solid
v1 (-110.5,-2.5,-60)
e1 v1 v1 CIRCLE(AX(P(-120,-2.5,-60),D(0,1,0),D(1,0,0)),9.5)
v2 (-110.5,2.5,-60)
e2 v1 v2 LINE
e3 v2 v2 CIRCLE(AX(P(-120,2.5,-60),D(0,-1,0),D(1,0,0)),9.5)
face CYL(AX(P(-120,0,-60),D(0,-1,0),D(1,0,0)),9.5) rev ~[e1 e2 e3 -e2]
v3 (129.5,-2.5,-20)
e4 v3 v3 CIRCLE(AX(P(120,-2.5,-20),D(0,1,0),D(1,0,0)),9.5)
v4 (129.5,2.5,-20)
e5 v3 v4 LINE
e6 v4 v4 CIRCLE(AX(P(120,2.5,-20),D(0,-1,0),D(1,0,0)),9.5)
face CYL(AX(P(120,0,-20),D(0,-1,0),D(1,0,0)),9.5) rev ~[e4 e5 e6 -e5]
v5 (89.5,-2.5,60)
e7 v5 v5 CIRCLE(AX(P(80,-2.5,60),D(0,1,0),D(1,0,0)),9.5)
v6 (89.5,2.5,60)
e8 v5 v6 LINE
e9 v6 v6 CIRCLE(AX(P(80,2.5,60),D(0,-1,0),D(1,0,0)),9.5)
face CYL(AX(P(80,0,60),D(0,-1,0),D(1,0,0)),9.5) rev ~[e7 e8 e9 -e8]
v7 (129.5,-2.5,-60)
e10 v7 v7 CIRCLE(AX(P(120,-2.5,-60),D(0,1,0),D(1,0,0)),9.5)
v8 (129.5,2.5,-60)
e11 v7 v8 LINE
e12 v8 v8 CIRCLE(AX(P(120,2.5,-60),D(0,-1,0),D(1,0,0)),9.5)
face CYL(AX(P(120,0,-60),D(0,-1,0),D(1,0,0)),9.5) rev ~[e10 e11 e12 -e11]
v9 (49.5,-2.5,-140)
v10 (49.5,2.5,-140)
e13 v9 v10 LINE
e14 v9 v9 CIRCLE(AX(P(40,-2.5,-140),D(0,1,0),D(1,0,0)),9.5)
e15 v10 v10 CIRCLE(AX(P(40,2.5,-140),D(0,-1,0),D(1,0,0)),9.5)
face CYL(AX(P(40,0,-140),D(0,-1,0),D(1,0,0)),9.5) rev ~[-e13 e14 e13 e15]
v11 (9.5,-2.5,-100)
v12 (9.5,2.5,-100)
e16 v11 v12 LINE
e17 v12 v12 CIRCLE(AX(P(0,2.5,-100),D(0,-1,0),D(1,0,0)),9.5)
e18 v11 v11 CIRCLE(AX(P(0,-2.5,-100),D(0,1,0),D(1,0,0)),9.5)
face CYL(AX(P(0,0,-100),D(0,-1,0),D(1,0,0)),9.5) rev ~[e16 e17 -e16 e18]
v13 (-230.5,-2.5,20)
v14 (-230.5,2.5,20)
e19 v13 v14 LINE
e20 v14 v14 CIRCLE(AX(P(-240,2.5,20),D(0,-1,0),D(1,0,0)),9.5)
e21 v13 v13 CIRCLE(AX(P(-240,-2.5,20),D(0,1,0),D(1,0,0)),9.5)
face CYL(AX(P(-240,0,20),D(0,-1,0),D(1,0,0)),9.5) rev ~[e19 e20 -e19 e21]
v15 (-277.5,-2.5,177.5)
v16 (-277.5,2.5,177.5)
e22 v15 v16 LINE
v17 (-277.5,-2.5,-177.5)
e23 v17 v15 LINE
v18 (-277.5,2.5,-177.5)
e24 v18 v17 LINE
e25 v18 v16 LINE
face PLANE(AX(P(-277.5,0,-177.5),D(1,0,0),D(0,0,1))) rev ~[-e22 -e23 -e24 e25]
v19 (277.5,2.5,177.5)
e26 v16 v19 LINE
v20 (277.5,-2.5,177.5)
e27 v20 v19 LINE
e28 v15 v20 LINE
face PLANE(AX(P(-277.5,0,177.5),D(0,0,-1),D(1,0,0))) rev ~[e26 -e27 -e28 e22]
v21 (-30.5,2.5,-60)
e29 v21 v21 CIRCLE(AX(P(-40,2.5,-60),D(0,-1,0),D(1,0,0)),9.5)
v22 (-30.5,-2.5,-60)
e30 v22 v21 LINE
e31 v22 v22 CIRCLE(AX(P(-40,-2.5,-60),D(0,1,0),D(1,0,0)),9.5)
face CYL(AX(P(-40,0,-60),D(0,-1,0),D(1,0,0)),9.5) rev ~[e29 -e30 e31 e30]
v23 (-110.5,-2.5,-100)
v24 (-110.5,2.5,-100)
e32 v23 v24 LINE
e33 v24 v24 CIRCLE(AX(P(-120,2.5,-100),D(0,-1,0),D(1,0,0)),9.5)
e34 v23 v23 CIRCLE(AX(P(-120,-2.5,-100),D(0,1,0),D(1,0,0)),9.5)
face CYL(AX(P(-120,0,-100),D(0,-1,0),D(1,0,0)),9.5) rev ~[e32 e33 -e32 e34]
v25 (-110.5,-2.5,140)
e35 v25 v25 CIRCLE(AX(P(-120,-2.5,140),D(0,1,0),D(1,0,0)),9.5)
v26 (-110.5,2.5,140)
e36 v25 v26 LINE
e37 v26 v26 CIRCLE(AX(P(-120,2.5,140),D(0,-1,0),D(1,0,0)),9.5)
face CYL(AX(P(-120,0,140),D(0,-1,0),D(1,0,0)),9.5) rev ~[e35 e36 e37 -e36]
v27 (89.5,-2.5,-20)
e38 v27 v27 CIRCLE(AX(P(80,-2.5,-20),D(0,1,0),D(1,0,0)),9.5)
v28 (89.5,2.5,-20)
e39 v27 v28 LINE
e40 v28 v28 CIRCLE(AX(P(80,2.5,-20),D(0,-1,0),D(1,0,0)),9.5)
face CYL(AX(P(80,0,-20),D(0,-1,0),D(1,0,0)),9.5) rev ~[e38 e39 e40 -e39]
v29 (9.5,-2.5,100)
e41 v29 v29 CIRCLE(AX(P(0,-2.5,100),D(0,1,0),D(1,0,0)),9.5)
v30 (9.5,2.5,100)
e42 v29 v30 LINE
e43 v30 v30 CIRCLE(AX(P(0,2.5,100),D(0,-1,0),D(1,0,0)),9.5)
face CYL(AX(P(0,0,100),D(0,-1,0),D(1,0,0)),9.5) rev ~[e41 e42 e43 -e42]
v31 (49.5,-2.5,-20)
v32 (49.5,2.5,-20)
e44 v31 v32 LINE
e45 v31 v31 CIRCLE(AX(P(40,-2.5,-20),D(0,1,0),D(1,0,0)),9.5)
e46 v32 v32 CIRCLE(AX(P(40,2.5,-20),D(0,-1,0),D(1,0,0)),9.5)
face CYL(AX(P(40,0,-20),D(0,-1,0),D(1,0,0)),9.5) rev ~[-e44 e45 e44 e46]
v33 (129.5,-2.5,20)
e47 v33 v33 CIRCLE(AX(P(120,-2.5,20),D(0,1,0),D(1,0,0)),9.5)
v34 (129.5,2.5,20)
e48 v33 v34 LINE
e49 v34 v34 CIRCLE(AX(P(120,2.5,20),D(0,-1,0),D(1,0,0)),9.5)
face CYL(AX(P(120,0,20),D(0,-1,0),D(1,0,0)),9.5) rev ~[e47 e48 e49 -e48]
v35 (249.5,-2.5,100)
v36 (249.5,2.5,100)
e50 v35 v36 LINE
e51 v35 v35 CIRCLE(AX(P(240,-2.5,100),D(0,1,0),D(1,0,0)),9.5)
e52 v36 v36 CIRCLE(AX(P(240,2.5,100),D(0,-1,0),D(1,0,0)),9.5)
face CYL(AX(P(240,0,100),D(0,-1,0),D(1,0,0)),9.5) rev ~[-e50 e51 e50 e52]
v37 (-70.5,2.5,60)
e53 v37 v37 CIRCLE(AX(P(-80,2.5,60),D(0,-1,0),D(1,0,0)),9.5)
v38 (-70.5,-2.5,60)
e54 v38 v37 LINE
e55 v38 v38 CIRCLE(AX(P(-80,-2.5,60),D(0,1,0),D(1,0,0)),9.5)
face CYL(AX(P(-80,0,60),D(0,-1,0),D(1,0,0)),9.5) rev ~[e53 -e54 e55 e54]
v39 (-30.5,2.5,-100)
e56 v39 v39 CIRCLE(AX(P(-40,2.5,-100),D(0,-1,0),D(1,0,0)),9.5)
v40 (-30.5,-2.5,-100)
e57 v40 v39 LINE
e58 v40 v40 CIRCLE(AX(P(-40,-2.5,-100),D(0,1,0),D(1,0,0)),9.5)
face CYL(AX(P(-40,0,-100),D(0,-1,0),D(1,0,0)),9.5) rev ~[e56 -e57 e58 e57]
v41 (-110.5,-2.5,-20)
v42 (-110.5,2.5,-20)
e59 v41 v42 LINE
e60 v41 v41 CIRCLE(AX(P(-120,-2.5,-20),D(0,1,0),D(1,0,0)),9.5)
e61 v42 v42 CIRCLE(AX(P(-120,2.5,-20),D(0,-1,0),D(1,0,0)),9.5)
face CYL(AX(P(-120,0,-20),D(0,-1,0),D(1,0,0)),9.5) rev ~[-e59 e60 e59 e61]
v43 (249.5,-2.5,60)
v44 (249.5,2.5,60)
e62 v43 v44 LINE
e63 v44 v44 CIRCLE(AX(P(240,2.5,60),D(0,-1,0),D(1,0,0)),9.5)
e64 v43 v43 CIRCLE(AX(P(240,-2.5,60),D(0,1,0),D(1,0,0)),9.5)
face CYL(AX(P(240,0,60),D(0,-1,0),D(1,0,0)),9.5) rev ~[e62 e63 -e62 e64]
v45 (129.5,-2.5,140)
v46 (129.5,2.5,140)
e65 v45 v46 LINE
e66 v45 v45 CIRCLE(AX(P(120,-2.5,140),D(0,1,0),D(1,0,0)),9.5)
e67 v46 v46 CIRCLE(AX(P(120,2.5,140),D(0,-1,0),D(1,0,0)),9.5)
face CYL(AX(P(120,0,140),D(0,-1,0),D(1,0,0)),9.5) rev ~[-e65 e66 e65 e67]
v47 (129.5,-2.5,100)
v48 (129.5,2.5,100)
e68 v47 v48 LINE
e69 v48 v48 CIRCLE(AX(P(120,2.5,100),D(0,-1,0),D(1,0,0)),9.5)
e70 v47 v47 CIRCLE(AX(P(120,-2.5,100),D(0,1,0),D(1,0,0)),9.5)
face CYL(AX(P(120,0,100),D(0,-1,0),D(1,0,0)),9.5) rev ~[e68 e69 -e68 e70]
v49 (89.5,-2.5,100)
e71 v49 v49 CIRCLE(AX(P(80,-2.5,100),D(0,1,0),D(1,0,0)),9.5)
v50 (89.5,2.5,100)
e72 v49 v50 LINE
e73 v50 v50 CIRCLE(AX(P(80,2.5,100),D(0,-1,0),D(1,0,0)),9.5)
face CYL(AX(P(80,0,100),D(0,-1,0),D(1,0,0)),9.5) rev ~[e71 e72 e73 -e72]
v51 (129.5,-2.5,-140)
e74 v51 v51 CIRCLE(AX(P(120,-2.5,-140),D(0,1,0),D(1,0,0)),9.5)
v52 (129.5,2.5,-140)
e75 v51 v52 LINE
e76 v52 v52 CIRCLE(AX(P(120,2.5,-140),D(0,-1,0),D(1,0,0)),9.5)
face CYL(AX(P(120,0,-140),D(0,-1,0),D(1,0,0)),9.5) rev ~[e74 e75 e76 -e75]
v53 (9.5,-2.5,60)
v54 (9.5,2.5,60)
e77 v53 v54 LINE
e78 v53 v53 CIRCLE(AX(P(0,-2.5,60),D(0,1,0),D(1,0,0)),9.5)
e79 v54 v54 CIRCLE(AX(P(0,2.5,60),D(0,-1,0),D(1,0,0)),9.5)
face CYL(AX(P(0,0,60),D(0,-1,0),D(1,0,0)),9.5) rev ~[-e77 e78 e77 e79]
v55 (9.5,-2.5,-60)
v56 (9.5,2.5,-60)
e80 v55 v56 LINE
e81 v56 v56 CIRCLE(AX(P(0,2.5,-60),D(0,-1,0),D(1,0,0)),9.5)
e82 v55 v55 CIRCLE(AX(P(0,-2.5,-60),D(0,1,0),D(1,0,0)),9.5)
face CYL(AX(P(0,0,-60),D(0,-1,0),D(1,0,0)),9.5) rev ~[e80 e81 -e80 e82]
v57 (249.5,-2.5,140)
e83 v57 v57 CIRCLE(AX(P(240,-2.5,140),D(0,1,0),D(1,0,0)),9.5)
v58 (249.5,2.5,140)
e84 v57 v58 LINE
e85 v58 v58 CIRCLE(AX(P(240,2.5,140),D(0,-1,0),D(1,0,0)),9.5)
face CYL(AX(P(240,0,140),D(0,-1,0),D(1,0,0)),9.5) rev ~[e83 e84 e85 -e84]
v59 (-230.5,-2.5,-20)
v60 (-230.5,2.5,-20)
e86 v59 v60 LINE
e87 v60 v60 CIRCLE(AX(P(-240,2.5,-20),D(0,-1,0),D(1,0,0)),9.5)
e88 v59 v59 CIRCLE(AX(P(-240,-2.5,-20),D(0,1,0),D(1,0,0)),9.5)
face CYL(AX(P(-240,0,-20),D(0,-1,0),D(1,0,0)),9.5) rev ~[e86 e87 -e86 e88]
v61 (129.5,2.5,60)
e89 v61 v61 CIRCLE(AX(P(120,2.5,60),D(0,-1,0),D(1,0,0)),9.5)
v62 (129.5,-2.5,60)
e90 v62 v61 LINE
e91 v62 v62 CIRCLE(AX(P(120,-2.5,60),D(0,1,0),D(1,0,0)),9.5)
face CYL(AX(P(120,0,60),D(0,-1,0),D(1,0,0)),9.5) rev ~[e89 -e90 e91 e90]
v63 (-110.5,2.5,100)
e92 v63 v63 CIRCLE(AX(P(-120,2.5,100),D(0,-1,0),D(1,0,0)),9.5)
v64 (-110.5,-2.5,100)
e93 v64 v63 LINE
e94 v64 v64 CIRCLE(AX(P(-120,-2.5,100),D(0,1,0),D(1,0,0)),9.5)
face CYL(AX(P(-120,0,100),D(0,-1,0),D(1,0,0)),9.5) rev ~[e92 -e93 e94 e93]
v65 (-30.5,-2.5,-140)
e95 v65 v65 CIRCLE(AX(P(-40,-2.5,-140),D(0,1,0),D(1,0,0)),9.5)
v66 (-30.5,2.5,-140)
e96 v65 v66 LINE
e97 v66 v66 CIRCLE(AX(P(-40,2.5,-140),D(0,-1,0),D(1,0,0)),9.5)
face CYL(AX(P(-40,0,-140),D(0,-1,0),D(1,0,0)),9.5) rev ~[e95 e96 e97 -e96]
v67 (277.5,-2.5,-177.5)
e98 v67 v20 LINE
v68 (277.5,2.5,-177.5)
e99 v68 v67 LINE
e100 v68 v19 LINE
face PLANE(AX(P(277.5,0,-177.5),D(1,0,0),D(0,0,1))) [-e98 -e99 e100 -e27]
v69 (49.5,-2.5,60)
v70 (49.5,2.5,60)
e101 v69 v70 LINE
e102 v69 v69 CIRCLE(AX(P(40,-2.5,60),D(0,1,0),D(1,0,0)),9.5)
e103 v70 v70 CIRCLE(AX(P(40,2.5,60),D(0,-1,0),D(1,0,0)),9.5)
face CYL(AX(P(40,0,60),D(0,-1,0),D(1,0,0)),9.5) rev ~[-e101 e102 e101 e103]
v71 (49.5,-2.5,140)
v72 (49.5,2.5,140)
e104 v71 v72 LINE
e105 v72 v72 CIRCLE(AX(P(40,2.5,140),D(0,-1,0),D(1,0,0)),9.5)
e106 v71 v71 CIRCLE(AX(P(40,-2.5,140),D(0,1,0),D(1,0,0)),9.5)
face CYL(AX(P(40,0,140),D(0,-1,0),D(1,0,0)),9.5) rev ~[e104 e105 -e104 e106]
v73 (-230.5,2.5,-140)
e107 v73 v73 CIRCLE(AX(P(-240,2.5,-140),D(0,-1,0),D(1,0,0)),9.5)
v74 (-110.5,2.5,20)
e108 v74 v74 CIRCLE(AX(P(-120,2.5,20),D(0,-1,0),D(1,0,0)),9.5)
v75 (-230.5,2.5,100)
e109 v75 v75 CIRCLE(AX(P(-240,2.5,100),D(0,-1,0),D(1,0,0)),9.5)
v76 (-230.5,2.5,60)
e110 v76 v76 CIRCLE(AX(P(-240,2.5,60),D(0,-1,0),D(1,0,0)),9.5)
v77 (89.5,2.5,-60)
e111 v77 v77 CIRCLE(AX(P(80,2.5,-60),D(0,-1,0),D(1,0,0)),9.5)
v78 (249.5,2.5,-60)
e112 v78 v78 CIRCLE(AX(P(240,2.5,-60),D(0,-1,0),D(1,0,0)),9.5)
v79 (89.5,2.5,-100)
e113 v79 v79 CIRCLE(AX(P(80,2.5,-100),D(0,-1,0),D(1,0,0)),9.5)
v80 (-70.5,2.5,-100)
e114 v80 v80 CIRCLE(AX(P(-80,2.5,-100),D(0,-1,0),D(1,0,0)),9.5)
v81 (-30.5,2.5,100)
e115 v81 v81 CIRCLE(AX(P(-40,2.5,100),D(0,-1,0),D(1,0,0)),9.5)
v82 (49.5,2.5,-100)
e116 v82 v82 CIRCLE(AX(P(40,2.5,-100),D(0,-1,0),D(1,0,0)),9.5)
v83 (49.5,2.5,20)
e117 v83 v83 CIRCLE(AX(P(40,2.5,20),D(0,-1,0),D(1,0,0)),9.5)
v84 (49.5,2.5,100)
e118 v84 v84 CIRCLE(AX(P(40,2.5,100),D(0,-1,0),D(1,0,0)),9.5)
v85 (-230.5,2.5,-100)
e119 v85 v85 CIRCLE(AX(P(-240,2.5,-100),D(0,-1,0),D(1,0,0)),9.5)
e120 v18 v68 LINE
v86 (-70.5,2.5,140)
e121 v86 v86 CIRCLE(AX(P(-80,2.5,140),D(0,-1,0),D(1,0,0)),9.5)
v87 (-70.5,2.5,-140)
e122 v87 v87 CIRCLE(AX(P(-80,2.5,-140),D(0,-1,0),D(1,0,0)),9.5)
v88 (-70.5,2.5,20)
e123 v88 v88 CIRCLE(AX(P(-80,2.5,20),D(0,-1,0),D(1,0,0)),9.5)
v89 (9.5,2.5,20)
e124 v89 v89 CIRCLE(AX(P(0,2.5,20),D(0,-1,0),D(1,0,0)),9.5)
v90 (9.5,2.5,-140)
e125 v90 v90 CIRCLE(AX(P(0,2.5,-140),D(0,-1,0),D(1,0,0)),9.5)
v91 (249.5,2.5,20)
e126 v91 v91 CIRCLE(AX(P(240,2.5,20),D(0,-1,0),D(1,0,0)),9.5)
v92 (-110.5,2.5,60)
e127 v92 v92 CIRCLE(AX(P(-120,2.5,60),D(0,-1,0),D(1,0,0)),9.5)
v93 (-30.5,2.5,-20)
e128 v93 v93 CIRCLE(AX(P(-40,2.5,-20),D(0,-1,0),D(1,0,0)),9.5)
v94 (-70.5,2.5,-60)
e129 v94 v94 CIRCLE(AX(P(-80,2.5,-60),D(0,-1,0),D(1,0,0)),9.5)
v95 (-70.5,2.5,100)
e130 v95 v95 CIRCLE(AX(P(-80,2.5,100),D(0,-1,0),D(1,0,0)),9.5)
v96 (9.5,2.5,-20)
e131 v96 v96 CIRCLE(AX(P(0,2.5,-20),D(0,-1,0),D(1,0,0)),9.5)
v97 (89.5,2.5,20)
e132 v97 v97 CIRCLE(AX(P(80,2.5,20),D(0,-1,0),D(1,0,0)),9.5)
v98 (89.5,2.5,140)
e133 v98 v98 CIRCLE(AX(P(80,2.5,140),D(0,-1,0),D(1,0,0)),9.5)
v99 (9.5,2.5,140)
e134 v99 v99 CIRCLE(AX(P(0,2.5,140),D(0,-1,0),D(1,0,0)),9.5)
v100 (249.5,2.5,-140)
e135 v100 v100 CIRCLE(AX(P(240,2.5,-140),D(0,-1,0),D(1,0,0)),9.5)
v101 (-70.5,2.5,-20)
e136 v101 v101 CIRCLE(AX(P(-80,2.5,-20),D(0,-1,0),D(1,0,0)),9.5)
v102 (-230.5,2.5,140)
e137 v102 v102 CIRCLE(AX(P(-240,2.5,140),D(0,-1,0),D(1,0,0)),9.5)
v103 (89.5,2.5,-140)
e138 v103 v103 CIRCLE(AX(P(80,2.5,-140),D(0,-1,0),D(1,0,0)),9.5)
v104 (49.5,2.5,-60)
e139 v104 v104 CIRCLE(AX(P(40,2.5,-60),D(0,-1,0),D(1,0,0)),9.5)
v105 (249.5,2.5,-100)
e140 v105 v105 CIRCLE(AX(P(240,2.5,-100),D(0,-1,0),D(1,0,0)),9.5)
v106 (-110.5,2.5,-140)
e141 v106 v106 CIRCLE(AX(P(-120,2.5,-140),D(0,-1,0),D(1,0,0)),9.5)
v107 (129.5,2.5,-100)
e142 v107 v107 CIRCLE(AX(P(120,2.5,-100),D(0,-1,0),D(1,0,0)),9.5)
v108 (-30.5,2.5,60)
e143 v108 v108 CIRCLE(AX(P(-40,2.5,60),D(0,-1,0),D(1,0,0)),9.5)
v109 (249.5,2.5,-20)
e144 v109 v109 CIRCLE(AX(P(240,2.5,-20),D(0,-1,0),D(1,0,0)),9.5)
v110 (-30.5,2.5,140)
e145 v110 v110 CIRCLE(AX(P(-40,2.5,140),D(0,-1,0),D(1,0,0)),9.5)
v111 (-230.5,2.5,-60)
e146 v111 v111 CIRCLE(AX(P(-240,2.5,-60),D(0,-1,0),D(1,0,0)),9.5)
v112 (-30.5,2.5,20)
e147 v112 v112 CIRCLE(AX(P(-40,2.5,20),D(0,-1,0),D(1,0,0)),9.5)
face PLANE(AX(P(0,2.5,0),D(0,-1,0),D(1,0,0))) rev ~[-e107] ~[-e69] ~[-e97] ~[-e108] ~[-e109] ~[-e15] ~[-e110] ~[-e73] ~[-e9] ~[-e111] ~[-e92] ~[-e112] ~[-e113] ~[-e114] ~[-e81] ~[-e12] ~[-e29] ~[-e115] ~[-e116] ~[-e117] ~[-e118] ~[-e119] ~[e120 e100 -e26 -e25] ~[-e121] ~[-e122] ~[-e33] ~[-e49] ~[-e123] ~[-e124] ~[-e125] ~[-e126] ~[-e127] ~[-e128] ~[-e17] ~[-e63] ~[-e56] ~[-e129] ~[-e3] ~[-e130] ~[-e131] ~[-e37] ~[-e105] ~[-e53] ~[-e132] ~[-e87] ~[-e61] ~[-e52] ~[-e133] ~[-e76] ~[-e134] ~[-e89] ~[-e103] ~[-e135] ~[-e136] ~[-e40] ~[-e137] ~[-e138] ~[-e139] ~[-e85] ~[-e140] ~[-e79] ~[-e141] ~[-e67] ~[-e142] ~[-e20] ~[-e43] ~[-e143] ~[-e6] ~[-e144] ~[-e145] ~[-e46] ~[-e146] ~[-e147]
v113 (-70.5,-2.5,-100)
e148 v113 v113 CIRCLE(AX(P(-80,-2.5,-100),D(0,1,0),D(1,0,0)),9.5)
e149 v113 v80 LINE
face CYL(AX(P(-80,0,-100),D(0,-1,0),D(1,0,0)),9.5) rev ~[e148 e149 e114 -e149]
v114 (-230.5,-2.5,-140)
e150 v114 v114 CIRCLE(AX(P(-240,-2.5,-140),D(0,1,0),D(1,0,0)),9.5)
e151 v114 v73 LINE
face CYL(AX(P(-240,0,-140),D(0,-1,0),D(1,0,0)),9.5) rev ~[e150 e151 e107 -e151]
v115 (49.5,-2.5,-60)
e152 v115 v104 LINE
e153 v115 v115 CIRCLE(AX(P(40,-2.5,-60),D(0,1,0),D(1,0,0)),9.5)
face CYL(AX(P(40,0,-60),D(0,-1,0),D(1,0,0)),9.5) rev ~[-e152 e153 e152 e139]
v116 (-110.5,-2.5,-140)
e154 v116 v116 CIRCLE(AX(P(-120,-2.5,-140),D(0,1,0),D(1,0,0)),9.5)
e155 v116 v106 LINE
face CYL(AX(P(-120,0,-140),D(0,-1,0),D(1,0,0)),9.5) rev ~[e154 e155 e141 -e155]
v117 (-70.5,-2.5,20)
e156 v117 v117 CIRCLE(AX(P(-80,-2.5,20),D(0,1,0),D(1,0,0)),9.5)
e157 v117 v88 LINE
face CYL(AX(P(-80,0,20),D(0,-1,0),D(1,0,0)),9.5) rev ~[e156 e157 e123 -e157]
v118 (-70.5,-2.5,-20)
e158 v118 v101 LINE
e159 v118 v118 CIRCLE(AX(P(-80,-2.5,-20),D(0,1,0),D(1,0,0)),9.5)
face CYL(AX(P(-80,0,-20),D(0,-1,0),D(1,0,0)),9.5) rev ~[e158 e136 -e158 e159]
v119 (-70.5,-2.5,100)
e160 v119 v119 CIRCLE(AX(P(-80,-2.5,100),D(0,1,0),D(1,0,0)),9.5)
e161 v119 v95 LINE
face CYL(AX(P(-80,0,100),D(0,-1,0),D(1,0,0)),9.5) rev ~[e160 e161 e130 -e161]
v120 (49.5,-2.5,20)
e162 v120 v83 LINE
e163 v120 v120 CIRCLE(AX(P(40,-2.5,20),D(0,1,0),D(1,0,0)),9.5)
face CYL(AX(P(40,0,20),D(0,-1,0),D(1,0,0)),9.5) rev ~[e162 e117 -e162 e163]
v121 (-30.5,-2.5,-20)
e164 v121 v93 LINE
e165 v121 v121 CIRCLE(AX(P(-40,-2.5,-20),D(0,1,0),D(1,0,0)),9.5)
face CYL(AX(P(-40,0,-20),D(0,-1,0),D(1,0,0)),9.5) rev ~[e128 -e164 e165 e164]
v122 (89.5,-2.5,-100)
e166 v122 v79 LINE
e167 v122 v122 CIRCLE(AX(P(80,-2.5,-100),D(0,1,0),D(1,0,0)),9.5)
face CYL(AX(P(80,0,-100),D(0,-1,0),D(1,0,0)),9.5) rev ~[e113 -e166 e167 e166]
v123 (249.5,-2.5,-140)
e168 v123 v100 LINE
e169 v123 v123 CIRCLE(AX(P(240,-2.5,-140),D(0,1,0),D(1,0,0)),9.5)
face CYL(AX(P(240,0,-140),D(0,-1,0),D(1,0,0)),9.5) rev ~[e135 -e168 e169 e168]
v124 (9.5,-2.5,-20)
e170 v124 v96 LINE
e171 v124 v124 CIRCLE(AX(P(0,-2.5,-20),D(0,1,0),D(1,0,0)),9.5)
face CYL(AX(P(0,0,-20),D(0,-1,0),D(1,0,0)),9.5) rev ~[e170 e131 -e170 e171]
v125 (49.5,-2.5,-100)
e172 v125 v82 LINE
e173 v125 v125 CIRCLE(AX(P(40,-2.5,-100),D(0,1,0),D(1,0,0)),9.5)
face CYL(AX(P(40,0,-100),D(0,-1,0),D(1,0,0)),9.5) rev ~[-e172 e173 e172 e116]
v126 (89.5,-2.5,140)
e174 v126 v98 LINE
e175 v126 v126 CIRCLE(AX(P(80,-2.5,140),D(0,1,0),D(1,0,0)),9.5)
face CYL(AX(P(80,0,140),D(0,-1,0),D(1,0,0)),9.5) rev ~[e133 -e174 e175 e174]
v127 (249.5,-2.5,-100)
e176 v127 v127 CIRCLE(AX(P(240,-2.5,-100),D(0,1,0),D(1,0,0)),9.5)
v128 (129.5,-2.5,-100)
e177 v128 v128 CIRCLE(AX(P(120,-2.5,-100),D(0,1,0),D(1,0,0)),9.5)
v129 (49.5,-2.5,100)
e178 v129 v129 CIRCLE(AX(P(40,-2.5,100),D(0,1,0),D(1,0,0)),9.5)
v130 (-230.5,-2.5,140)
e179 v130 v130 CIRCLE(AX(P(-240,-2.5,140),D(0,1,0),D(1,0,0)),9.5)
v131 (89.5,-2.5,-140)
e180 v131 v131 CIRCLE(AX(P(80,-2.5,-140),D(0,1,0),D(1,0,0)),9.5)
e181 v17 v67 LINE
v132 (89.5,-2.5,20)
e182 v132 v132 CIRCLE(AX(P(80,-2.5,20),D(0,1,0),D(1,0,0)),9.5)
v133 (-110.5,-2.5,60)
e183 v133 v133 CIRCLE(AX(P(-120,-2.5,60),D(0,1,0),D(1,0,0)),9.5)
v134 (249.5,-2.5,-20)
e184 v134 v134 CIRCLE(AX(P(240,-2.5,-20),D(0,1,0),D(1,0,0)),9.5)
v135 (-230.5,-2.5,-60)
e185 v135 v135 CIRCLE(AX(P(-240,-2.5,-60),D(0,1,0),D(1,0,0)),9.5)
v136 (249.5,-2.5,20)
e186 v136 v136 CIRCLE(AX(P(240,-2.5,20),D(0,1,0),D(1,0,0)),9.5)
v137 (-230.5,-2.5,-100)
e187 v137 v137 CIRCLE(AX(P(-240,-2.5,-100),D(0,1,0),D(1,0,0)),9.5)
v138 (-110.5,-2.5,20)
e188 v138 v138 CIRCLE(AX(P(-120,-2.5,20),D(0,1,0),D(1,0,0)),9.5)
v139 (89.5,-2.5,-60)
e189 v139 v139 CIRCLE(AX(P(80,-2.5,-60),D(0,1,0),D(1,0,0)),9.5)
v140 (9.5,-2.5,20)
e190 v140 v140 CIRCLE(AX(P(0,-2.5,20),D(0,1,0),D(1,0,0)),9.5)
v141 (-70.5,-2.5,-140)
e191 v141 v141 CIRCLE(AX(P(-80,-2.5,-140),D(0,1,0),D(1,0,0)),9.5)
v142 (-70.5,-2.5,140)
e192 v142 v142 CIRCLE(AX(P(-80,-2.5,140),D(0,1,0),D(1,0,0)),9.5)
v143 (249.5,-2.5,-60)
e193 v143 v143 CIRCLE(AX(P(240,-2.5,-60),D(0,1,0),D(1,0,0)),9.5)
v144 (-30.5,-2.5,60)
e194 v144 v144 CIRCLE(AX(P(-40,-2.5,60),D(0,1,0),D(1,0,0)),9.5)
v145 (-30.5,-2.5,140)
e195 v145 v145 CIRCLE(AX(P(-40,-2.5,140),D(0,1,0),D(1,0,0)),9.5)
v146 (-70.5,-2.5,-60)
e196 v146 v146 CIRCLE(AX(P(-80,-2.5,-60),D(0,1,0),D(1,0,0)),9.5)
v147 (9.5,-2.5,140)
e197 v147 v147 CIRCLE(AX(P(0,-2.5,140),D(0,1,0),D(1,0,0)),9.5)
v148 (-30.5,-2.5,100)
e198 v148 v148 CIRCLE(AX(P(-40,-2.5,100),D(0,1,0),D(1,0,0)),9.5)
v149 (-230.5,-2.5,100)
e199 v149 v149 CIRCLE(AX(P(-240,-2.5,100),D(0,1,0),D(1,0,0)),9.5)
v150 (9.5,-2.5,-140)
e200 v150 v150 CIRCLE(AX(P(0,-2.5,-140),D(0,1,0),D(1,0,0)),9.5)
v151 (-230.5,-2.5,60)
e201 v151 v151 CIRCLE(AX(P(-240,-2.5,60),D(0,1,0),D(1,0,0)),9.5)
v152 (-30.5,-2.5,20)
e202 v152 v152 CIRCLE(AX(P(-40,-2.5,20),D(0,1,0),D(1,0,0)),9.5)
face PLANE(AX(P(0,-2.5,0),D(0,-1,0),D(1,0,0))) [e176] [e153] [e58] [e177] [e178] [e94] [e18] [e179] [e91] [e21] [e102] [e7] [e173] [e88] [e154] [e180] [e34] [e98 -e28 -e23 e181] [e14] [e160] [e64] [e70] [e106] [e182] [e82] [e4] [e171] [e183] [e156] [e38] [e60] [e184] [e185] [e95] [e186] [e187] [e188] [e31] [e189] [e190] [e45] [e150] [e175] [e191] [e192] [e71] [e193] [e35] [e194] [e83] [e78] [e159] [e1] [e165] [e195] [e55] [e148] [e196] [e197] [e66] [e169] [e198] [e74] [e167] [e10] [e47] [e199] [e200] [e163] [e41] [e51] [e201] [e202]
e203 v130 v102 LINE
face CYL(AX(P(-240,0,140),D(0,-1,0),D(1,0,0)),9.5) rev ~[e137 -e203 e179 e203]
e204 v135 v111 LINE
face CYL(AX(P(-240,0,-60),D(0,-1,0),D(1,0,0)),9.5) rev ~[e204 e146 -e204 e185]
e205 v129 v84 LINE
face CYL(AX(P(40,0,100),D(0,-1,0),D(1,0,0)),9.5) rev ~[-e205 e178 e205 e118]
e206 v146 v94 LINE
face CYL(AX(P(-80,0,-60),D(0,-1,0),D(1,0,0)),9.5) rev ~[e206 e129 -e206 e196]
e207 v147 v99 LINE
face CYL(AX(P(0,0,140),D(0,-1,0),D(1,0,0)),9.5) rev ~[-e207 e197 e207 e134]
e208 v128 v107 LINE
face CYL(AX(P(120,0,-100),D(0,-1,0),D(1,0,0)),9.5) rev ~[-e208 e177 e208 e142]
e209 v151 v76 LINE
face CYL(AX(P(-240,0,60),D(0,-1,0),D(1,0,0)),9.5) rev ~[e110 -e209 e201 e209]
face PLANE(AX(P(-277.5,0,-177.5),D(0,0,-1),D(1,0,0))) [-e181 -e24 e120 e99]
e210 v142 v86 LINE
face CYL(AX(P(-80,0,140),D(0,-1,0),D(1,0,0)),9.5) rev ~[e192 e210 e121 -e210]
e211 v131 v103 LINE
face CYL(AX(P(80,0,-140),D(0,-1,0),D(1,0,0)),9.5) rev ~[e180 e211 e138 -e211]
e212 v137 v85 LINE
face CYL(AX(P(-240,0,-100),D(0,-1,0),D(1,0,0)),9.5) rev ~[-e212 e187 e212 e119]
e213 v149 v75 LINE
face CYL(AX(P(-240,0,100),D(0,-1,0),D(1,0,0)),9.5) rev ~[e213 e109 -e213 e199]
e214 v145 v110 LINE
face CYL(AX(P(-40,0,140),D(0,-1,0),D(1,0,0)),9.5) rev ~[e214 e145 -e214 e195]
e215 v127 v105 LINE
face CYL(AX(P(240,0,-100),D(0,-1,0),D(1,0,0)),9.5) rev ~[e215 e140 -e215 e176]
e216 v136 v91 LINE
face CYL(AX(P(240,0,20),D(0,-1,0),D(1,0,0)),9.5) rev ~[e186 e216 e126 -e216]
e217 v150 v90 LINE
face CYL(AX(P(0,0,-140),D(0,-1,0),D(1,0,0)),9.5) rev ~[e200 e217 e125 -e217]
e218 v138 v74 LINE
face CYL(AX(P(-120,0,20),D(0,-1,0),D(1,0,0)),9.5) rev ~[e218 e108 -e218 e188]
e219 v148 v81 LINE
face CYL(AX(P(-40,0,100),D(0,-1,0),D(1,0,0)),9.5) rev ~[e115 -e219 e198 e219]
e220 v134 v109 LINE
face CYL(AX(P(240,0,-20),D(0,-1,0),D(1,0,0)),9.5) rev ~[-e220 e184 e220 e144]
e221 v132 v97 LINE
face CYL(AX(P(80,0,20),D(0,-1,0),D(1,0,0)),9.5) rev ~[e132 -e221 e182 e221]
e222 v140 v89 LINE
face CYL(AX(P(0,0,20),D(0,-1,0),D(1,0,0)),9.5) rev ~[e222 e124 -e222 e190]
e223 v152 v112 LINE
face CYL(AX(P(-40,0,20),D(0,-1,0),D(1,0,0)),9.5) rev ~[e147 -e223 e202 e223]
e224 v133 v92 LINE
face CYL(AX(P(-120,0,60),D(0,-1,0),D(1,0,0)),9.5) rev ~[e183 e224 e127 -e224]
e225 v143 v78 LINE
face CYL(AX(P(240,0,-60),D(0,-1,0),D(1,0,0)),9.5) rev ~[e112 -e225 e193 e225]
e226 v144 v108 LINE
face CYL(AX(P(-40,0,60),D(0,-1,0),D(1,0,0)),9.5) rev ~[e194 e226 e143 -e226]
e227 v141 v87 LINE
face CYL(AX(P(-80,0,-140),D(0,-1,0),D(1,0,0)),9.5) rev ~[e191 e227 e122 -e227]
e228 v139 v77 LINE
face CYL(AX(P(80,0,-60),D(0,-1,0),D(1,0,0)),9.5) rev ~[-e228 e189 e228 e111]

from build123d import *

# Parameters (mm, degrees)
F0_W          = 555
F0_H          = 355
F1_DEPTH      = 2.5
F2_R          = 9.5
F3_DEPTH      = 2.501
F3_DEPTH_BACK = 2.501


with BuildPart() as f1:
    # F0 (on Front) → F1 (new body, symmetric)
    with BuildSketch(Plane.XZ):
        Rectangle(F0_W, F0_H)
    extrude(amount=F1_DEPTH, both=True)

    # F2 (on Front) → F3 (cut, two sides)
    with BuildSketch(Plane.XZ) as f3_sk:
        with Locations((-240, -140)):
            Circle(F2_R)
        with Locations((-240, -100)):
            Circle(F2_R)
        with Locations((-240, -60)):
            Circle(F2_R)
        with Locations((-120, -140)):
            Circle(F2_R)
        with Locations((-120, -100)):
            Circle(F2_R)
        with Locations((-120, -60)):
            Circle(F2_R)
        with Locations((-80, -140)):
            Circle(F2_R)
        with Locations((-80, -100)):
            Circle(F2_R)
        with Locations((-80, -60)):
            Circle(F2_R)
        with Locations((-240, -20)):
            Circle(F2_R)
        with Locations((-120, -20)):
            Circle(F2_R)
        with Locations((-80, -20)):
            Circle(F2_R)
        with Locations((-40, -140)):
            Circle(F2_R)
        with Locations((-40, -100)):
            Circle(F2_R)
        with Locations((-40, -60)):
            Circle(F2_R)
        with Locations((-40, -20)):
            Circle(F2_R)
        with Locations((0, -140)):
            Circle(F2_R)
        with Locations((0, -100)):
            Circle(F2_R)
        with Locations((0, -60)):
            Circle(F2_R)
        with Locations((0, -20)):
            Circle(F2_R)
        with Locations((40, -140)):
            Circle(F2_R)
        with Locations((40, -100)):
            Circle(F2_R)
        with Locations((40, -60)):
            Circle(F2_R)
        with Locations((40, -20)):
            Circle(F2_R)
        with Locations((80, -140)):
            Circle(F2_R)
        with Locations((80, -100)):
            Circle(F2_R)
        with Locations((80, -60)):
            Circle(F2_R)
        with Locations((80, -20)):
            Circle(F2_R)
        with Locations((120, -140)):
            Circle(F2_R)
        with Locations((120, -100)):
            Circle(F2_R)
        with Locations((120, -60)):
            Circle(F2_R)
        with Locations((120, -20)):
            Circle(F2_R)
        with Locations((-240, 20)):
            Circle(F2_R)
        with Locations((-240, 60)):
            Circle(F2_R)
        with Locations((-240, 100)):
            Circle(F2_R)
        with Locations((-240, 140)):
            Circle(F2_R)
        with Locations((-120, 20)):
            Circle(F2_R)
        with Locations((-120, 60)):
            Circle(F2_R)
        with Locations((-120, 100)):
            Circle(F2_R)
        with Locations((-120, 140)):
            Circle(F2_R)
        with Locations((-80, 20)):
            Circle(F2_R)
        with Locations((-80, 60)):
            Circle(F2_R)
        with Locations((-80, 100)):
            Circle(F2_R)
        with Locations((-80, 140)):
            Circle(F2_R)
        with Locations((-40, 20)):
            Circle(F2_R)
        with Locations((-40, 60)):
            Circle(F2_R)
        with Locations((-40, 100)):
            Circle(F2_R)
        with Locations((-40, 140)):
            Circle(F2_R)
        with Locations((0, 20)):
            Circle(F2_R)
        with Locations((0, 60)):
            Circle(F2_R)
        with Locations((0, 100)):
            Circle(F2_R)
        with Locations((0, 140)):
            Circle(F2_R)
        with Locations((40, 20)):
            Circle(F2_R)
        with Locations((40, 60)):
            Circle(F2_R)
        with Locations((40, 100)):
            Circle(F2_R)
        with Locations((40, 140)):
            Circle(F2_R)
        with Locations((80, 20)):
            Circle(F2_R)
        with Locations((80, 60)):
            Circle(F2_R)
        with Locations((80, 100)):
            Circle(F2_R)
        with Locations((80, 140)):
            Circle(F2_R)
        with Locations((120, 20)):
            Circle(F2_R)
        with Locations((120, 60)):
            Circle(F2_R)
        with Locations((120, 100)):
            Circle(F2_R)
        with Locations((120, 140)):
            Circle(F2_R)
        with Locations((240, -140)):
            Circle(F2_R)
        with Locations((240, -100)):
            Circle(F2_R)
        with Locations((240, -60)):
            Circle(F2_R)
        with Locations((240, -20)):
            Circle(F2_R)
        with Locations((240, 20)):
            Circle(F2_R)
        with Locations((240, 60)):
            Circle(F2_R)
        with Locations((240, 100)):
            Circle(F2_R)
        with Locations((240, 140)):
            Circle(F2_R)
    extrude(amount=F3_DEPTH, mode=Mode.SUBTRACT)
    extrude(f3_sk.sketch, amount=-F3_DEPTH_BACK, mode=Mode.SUBTRACT)


solid = f1.part
